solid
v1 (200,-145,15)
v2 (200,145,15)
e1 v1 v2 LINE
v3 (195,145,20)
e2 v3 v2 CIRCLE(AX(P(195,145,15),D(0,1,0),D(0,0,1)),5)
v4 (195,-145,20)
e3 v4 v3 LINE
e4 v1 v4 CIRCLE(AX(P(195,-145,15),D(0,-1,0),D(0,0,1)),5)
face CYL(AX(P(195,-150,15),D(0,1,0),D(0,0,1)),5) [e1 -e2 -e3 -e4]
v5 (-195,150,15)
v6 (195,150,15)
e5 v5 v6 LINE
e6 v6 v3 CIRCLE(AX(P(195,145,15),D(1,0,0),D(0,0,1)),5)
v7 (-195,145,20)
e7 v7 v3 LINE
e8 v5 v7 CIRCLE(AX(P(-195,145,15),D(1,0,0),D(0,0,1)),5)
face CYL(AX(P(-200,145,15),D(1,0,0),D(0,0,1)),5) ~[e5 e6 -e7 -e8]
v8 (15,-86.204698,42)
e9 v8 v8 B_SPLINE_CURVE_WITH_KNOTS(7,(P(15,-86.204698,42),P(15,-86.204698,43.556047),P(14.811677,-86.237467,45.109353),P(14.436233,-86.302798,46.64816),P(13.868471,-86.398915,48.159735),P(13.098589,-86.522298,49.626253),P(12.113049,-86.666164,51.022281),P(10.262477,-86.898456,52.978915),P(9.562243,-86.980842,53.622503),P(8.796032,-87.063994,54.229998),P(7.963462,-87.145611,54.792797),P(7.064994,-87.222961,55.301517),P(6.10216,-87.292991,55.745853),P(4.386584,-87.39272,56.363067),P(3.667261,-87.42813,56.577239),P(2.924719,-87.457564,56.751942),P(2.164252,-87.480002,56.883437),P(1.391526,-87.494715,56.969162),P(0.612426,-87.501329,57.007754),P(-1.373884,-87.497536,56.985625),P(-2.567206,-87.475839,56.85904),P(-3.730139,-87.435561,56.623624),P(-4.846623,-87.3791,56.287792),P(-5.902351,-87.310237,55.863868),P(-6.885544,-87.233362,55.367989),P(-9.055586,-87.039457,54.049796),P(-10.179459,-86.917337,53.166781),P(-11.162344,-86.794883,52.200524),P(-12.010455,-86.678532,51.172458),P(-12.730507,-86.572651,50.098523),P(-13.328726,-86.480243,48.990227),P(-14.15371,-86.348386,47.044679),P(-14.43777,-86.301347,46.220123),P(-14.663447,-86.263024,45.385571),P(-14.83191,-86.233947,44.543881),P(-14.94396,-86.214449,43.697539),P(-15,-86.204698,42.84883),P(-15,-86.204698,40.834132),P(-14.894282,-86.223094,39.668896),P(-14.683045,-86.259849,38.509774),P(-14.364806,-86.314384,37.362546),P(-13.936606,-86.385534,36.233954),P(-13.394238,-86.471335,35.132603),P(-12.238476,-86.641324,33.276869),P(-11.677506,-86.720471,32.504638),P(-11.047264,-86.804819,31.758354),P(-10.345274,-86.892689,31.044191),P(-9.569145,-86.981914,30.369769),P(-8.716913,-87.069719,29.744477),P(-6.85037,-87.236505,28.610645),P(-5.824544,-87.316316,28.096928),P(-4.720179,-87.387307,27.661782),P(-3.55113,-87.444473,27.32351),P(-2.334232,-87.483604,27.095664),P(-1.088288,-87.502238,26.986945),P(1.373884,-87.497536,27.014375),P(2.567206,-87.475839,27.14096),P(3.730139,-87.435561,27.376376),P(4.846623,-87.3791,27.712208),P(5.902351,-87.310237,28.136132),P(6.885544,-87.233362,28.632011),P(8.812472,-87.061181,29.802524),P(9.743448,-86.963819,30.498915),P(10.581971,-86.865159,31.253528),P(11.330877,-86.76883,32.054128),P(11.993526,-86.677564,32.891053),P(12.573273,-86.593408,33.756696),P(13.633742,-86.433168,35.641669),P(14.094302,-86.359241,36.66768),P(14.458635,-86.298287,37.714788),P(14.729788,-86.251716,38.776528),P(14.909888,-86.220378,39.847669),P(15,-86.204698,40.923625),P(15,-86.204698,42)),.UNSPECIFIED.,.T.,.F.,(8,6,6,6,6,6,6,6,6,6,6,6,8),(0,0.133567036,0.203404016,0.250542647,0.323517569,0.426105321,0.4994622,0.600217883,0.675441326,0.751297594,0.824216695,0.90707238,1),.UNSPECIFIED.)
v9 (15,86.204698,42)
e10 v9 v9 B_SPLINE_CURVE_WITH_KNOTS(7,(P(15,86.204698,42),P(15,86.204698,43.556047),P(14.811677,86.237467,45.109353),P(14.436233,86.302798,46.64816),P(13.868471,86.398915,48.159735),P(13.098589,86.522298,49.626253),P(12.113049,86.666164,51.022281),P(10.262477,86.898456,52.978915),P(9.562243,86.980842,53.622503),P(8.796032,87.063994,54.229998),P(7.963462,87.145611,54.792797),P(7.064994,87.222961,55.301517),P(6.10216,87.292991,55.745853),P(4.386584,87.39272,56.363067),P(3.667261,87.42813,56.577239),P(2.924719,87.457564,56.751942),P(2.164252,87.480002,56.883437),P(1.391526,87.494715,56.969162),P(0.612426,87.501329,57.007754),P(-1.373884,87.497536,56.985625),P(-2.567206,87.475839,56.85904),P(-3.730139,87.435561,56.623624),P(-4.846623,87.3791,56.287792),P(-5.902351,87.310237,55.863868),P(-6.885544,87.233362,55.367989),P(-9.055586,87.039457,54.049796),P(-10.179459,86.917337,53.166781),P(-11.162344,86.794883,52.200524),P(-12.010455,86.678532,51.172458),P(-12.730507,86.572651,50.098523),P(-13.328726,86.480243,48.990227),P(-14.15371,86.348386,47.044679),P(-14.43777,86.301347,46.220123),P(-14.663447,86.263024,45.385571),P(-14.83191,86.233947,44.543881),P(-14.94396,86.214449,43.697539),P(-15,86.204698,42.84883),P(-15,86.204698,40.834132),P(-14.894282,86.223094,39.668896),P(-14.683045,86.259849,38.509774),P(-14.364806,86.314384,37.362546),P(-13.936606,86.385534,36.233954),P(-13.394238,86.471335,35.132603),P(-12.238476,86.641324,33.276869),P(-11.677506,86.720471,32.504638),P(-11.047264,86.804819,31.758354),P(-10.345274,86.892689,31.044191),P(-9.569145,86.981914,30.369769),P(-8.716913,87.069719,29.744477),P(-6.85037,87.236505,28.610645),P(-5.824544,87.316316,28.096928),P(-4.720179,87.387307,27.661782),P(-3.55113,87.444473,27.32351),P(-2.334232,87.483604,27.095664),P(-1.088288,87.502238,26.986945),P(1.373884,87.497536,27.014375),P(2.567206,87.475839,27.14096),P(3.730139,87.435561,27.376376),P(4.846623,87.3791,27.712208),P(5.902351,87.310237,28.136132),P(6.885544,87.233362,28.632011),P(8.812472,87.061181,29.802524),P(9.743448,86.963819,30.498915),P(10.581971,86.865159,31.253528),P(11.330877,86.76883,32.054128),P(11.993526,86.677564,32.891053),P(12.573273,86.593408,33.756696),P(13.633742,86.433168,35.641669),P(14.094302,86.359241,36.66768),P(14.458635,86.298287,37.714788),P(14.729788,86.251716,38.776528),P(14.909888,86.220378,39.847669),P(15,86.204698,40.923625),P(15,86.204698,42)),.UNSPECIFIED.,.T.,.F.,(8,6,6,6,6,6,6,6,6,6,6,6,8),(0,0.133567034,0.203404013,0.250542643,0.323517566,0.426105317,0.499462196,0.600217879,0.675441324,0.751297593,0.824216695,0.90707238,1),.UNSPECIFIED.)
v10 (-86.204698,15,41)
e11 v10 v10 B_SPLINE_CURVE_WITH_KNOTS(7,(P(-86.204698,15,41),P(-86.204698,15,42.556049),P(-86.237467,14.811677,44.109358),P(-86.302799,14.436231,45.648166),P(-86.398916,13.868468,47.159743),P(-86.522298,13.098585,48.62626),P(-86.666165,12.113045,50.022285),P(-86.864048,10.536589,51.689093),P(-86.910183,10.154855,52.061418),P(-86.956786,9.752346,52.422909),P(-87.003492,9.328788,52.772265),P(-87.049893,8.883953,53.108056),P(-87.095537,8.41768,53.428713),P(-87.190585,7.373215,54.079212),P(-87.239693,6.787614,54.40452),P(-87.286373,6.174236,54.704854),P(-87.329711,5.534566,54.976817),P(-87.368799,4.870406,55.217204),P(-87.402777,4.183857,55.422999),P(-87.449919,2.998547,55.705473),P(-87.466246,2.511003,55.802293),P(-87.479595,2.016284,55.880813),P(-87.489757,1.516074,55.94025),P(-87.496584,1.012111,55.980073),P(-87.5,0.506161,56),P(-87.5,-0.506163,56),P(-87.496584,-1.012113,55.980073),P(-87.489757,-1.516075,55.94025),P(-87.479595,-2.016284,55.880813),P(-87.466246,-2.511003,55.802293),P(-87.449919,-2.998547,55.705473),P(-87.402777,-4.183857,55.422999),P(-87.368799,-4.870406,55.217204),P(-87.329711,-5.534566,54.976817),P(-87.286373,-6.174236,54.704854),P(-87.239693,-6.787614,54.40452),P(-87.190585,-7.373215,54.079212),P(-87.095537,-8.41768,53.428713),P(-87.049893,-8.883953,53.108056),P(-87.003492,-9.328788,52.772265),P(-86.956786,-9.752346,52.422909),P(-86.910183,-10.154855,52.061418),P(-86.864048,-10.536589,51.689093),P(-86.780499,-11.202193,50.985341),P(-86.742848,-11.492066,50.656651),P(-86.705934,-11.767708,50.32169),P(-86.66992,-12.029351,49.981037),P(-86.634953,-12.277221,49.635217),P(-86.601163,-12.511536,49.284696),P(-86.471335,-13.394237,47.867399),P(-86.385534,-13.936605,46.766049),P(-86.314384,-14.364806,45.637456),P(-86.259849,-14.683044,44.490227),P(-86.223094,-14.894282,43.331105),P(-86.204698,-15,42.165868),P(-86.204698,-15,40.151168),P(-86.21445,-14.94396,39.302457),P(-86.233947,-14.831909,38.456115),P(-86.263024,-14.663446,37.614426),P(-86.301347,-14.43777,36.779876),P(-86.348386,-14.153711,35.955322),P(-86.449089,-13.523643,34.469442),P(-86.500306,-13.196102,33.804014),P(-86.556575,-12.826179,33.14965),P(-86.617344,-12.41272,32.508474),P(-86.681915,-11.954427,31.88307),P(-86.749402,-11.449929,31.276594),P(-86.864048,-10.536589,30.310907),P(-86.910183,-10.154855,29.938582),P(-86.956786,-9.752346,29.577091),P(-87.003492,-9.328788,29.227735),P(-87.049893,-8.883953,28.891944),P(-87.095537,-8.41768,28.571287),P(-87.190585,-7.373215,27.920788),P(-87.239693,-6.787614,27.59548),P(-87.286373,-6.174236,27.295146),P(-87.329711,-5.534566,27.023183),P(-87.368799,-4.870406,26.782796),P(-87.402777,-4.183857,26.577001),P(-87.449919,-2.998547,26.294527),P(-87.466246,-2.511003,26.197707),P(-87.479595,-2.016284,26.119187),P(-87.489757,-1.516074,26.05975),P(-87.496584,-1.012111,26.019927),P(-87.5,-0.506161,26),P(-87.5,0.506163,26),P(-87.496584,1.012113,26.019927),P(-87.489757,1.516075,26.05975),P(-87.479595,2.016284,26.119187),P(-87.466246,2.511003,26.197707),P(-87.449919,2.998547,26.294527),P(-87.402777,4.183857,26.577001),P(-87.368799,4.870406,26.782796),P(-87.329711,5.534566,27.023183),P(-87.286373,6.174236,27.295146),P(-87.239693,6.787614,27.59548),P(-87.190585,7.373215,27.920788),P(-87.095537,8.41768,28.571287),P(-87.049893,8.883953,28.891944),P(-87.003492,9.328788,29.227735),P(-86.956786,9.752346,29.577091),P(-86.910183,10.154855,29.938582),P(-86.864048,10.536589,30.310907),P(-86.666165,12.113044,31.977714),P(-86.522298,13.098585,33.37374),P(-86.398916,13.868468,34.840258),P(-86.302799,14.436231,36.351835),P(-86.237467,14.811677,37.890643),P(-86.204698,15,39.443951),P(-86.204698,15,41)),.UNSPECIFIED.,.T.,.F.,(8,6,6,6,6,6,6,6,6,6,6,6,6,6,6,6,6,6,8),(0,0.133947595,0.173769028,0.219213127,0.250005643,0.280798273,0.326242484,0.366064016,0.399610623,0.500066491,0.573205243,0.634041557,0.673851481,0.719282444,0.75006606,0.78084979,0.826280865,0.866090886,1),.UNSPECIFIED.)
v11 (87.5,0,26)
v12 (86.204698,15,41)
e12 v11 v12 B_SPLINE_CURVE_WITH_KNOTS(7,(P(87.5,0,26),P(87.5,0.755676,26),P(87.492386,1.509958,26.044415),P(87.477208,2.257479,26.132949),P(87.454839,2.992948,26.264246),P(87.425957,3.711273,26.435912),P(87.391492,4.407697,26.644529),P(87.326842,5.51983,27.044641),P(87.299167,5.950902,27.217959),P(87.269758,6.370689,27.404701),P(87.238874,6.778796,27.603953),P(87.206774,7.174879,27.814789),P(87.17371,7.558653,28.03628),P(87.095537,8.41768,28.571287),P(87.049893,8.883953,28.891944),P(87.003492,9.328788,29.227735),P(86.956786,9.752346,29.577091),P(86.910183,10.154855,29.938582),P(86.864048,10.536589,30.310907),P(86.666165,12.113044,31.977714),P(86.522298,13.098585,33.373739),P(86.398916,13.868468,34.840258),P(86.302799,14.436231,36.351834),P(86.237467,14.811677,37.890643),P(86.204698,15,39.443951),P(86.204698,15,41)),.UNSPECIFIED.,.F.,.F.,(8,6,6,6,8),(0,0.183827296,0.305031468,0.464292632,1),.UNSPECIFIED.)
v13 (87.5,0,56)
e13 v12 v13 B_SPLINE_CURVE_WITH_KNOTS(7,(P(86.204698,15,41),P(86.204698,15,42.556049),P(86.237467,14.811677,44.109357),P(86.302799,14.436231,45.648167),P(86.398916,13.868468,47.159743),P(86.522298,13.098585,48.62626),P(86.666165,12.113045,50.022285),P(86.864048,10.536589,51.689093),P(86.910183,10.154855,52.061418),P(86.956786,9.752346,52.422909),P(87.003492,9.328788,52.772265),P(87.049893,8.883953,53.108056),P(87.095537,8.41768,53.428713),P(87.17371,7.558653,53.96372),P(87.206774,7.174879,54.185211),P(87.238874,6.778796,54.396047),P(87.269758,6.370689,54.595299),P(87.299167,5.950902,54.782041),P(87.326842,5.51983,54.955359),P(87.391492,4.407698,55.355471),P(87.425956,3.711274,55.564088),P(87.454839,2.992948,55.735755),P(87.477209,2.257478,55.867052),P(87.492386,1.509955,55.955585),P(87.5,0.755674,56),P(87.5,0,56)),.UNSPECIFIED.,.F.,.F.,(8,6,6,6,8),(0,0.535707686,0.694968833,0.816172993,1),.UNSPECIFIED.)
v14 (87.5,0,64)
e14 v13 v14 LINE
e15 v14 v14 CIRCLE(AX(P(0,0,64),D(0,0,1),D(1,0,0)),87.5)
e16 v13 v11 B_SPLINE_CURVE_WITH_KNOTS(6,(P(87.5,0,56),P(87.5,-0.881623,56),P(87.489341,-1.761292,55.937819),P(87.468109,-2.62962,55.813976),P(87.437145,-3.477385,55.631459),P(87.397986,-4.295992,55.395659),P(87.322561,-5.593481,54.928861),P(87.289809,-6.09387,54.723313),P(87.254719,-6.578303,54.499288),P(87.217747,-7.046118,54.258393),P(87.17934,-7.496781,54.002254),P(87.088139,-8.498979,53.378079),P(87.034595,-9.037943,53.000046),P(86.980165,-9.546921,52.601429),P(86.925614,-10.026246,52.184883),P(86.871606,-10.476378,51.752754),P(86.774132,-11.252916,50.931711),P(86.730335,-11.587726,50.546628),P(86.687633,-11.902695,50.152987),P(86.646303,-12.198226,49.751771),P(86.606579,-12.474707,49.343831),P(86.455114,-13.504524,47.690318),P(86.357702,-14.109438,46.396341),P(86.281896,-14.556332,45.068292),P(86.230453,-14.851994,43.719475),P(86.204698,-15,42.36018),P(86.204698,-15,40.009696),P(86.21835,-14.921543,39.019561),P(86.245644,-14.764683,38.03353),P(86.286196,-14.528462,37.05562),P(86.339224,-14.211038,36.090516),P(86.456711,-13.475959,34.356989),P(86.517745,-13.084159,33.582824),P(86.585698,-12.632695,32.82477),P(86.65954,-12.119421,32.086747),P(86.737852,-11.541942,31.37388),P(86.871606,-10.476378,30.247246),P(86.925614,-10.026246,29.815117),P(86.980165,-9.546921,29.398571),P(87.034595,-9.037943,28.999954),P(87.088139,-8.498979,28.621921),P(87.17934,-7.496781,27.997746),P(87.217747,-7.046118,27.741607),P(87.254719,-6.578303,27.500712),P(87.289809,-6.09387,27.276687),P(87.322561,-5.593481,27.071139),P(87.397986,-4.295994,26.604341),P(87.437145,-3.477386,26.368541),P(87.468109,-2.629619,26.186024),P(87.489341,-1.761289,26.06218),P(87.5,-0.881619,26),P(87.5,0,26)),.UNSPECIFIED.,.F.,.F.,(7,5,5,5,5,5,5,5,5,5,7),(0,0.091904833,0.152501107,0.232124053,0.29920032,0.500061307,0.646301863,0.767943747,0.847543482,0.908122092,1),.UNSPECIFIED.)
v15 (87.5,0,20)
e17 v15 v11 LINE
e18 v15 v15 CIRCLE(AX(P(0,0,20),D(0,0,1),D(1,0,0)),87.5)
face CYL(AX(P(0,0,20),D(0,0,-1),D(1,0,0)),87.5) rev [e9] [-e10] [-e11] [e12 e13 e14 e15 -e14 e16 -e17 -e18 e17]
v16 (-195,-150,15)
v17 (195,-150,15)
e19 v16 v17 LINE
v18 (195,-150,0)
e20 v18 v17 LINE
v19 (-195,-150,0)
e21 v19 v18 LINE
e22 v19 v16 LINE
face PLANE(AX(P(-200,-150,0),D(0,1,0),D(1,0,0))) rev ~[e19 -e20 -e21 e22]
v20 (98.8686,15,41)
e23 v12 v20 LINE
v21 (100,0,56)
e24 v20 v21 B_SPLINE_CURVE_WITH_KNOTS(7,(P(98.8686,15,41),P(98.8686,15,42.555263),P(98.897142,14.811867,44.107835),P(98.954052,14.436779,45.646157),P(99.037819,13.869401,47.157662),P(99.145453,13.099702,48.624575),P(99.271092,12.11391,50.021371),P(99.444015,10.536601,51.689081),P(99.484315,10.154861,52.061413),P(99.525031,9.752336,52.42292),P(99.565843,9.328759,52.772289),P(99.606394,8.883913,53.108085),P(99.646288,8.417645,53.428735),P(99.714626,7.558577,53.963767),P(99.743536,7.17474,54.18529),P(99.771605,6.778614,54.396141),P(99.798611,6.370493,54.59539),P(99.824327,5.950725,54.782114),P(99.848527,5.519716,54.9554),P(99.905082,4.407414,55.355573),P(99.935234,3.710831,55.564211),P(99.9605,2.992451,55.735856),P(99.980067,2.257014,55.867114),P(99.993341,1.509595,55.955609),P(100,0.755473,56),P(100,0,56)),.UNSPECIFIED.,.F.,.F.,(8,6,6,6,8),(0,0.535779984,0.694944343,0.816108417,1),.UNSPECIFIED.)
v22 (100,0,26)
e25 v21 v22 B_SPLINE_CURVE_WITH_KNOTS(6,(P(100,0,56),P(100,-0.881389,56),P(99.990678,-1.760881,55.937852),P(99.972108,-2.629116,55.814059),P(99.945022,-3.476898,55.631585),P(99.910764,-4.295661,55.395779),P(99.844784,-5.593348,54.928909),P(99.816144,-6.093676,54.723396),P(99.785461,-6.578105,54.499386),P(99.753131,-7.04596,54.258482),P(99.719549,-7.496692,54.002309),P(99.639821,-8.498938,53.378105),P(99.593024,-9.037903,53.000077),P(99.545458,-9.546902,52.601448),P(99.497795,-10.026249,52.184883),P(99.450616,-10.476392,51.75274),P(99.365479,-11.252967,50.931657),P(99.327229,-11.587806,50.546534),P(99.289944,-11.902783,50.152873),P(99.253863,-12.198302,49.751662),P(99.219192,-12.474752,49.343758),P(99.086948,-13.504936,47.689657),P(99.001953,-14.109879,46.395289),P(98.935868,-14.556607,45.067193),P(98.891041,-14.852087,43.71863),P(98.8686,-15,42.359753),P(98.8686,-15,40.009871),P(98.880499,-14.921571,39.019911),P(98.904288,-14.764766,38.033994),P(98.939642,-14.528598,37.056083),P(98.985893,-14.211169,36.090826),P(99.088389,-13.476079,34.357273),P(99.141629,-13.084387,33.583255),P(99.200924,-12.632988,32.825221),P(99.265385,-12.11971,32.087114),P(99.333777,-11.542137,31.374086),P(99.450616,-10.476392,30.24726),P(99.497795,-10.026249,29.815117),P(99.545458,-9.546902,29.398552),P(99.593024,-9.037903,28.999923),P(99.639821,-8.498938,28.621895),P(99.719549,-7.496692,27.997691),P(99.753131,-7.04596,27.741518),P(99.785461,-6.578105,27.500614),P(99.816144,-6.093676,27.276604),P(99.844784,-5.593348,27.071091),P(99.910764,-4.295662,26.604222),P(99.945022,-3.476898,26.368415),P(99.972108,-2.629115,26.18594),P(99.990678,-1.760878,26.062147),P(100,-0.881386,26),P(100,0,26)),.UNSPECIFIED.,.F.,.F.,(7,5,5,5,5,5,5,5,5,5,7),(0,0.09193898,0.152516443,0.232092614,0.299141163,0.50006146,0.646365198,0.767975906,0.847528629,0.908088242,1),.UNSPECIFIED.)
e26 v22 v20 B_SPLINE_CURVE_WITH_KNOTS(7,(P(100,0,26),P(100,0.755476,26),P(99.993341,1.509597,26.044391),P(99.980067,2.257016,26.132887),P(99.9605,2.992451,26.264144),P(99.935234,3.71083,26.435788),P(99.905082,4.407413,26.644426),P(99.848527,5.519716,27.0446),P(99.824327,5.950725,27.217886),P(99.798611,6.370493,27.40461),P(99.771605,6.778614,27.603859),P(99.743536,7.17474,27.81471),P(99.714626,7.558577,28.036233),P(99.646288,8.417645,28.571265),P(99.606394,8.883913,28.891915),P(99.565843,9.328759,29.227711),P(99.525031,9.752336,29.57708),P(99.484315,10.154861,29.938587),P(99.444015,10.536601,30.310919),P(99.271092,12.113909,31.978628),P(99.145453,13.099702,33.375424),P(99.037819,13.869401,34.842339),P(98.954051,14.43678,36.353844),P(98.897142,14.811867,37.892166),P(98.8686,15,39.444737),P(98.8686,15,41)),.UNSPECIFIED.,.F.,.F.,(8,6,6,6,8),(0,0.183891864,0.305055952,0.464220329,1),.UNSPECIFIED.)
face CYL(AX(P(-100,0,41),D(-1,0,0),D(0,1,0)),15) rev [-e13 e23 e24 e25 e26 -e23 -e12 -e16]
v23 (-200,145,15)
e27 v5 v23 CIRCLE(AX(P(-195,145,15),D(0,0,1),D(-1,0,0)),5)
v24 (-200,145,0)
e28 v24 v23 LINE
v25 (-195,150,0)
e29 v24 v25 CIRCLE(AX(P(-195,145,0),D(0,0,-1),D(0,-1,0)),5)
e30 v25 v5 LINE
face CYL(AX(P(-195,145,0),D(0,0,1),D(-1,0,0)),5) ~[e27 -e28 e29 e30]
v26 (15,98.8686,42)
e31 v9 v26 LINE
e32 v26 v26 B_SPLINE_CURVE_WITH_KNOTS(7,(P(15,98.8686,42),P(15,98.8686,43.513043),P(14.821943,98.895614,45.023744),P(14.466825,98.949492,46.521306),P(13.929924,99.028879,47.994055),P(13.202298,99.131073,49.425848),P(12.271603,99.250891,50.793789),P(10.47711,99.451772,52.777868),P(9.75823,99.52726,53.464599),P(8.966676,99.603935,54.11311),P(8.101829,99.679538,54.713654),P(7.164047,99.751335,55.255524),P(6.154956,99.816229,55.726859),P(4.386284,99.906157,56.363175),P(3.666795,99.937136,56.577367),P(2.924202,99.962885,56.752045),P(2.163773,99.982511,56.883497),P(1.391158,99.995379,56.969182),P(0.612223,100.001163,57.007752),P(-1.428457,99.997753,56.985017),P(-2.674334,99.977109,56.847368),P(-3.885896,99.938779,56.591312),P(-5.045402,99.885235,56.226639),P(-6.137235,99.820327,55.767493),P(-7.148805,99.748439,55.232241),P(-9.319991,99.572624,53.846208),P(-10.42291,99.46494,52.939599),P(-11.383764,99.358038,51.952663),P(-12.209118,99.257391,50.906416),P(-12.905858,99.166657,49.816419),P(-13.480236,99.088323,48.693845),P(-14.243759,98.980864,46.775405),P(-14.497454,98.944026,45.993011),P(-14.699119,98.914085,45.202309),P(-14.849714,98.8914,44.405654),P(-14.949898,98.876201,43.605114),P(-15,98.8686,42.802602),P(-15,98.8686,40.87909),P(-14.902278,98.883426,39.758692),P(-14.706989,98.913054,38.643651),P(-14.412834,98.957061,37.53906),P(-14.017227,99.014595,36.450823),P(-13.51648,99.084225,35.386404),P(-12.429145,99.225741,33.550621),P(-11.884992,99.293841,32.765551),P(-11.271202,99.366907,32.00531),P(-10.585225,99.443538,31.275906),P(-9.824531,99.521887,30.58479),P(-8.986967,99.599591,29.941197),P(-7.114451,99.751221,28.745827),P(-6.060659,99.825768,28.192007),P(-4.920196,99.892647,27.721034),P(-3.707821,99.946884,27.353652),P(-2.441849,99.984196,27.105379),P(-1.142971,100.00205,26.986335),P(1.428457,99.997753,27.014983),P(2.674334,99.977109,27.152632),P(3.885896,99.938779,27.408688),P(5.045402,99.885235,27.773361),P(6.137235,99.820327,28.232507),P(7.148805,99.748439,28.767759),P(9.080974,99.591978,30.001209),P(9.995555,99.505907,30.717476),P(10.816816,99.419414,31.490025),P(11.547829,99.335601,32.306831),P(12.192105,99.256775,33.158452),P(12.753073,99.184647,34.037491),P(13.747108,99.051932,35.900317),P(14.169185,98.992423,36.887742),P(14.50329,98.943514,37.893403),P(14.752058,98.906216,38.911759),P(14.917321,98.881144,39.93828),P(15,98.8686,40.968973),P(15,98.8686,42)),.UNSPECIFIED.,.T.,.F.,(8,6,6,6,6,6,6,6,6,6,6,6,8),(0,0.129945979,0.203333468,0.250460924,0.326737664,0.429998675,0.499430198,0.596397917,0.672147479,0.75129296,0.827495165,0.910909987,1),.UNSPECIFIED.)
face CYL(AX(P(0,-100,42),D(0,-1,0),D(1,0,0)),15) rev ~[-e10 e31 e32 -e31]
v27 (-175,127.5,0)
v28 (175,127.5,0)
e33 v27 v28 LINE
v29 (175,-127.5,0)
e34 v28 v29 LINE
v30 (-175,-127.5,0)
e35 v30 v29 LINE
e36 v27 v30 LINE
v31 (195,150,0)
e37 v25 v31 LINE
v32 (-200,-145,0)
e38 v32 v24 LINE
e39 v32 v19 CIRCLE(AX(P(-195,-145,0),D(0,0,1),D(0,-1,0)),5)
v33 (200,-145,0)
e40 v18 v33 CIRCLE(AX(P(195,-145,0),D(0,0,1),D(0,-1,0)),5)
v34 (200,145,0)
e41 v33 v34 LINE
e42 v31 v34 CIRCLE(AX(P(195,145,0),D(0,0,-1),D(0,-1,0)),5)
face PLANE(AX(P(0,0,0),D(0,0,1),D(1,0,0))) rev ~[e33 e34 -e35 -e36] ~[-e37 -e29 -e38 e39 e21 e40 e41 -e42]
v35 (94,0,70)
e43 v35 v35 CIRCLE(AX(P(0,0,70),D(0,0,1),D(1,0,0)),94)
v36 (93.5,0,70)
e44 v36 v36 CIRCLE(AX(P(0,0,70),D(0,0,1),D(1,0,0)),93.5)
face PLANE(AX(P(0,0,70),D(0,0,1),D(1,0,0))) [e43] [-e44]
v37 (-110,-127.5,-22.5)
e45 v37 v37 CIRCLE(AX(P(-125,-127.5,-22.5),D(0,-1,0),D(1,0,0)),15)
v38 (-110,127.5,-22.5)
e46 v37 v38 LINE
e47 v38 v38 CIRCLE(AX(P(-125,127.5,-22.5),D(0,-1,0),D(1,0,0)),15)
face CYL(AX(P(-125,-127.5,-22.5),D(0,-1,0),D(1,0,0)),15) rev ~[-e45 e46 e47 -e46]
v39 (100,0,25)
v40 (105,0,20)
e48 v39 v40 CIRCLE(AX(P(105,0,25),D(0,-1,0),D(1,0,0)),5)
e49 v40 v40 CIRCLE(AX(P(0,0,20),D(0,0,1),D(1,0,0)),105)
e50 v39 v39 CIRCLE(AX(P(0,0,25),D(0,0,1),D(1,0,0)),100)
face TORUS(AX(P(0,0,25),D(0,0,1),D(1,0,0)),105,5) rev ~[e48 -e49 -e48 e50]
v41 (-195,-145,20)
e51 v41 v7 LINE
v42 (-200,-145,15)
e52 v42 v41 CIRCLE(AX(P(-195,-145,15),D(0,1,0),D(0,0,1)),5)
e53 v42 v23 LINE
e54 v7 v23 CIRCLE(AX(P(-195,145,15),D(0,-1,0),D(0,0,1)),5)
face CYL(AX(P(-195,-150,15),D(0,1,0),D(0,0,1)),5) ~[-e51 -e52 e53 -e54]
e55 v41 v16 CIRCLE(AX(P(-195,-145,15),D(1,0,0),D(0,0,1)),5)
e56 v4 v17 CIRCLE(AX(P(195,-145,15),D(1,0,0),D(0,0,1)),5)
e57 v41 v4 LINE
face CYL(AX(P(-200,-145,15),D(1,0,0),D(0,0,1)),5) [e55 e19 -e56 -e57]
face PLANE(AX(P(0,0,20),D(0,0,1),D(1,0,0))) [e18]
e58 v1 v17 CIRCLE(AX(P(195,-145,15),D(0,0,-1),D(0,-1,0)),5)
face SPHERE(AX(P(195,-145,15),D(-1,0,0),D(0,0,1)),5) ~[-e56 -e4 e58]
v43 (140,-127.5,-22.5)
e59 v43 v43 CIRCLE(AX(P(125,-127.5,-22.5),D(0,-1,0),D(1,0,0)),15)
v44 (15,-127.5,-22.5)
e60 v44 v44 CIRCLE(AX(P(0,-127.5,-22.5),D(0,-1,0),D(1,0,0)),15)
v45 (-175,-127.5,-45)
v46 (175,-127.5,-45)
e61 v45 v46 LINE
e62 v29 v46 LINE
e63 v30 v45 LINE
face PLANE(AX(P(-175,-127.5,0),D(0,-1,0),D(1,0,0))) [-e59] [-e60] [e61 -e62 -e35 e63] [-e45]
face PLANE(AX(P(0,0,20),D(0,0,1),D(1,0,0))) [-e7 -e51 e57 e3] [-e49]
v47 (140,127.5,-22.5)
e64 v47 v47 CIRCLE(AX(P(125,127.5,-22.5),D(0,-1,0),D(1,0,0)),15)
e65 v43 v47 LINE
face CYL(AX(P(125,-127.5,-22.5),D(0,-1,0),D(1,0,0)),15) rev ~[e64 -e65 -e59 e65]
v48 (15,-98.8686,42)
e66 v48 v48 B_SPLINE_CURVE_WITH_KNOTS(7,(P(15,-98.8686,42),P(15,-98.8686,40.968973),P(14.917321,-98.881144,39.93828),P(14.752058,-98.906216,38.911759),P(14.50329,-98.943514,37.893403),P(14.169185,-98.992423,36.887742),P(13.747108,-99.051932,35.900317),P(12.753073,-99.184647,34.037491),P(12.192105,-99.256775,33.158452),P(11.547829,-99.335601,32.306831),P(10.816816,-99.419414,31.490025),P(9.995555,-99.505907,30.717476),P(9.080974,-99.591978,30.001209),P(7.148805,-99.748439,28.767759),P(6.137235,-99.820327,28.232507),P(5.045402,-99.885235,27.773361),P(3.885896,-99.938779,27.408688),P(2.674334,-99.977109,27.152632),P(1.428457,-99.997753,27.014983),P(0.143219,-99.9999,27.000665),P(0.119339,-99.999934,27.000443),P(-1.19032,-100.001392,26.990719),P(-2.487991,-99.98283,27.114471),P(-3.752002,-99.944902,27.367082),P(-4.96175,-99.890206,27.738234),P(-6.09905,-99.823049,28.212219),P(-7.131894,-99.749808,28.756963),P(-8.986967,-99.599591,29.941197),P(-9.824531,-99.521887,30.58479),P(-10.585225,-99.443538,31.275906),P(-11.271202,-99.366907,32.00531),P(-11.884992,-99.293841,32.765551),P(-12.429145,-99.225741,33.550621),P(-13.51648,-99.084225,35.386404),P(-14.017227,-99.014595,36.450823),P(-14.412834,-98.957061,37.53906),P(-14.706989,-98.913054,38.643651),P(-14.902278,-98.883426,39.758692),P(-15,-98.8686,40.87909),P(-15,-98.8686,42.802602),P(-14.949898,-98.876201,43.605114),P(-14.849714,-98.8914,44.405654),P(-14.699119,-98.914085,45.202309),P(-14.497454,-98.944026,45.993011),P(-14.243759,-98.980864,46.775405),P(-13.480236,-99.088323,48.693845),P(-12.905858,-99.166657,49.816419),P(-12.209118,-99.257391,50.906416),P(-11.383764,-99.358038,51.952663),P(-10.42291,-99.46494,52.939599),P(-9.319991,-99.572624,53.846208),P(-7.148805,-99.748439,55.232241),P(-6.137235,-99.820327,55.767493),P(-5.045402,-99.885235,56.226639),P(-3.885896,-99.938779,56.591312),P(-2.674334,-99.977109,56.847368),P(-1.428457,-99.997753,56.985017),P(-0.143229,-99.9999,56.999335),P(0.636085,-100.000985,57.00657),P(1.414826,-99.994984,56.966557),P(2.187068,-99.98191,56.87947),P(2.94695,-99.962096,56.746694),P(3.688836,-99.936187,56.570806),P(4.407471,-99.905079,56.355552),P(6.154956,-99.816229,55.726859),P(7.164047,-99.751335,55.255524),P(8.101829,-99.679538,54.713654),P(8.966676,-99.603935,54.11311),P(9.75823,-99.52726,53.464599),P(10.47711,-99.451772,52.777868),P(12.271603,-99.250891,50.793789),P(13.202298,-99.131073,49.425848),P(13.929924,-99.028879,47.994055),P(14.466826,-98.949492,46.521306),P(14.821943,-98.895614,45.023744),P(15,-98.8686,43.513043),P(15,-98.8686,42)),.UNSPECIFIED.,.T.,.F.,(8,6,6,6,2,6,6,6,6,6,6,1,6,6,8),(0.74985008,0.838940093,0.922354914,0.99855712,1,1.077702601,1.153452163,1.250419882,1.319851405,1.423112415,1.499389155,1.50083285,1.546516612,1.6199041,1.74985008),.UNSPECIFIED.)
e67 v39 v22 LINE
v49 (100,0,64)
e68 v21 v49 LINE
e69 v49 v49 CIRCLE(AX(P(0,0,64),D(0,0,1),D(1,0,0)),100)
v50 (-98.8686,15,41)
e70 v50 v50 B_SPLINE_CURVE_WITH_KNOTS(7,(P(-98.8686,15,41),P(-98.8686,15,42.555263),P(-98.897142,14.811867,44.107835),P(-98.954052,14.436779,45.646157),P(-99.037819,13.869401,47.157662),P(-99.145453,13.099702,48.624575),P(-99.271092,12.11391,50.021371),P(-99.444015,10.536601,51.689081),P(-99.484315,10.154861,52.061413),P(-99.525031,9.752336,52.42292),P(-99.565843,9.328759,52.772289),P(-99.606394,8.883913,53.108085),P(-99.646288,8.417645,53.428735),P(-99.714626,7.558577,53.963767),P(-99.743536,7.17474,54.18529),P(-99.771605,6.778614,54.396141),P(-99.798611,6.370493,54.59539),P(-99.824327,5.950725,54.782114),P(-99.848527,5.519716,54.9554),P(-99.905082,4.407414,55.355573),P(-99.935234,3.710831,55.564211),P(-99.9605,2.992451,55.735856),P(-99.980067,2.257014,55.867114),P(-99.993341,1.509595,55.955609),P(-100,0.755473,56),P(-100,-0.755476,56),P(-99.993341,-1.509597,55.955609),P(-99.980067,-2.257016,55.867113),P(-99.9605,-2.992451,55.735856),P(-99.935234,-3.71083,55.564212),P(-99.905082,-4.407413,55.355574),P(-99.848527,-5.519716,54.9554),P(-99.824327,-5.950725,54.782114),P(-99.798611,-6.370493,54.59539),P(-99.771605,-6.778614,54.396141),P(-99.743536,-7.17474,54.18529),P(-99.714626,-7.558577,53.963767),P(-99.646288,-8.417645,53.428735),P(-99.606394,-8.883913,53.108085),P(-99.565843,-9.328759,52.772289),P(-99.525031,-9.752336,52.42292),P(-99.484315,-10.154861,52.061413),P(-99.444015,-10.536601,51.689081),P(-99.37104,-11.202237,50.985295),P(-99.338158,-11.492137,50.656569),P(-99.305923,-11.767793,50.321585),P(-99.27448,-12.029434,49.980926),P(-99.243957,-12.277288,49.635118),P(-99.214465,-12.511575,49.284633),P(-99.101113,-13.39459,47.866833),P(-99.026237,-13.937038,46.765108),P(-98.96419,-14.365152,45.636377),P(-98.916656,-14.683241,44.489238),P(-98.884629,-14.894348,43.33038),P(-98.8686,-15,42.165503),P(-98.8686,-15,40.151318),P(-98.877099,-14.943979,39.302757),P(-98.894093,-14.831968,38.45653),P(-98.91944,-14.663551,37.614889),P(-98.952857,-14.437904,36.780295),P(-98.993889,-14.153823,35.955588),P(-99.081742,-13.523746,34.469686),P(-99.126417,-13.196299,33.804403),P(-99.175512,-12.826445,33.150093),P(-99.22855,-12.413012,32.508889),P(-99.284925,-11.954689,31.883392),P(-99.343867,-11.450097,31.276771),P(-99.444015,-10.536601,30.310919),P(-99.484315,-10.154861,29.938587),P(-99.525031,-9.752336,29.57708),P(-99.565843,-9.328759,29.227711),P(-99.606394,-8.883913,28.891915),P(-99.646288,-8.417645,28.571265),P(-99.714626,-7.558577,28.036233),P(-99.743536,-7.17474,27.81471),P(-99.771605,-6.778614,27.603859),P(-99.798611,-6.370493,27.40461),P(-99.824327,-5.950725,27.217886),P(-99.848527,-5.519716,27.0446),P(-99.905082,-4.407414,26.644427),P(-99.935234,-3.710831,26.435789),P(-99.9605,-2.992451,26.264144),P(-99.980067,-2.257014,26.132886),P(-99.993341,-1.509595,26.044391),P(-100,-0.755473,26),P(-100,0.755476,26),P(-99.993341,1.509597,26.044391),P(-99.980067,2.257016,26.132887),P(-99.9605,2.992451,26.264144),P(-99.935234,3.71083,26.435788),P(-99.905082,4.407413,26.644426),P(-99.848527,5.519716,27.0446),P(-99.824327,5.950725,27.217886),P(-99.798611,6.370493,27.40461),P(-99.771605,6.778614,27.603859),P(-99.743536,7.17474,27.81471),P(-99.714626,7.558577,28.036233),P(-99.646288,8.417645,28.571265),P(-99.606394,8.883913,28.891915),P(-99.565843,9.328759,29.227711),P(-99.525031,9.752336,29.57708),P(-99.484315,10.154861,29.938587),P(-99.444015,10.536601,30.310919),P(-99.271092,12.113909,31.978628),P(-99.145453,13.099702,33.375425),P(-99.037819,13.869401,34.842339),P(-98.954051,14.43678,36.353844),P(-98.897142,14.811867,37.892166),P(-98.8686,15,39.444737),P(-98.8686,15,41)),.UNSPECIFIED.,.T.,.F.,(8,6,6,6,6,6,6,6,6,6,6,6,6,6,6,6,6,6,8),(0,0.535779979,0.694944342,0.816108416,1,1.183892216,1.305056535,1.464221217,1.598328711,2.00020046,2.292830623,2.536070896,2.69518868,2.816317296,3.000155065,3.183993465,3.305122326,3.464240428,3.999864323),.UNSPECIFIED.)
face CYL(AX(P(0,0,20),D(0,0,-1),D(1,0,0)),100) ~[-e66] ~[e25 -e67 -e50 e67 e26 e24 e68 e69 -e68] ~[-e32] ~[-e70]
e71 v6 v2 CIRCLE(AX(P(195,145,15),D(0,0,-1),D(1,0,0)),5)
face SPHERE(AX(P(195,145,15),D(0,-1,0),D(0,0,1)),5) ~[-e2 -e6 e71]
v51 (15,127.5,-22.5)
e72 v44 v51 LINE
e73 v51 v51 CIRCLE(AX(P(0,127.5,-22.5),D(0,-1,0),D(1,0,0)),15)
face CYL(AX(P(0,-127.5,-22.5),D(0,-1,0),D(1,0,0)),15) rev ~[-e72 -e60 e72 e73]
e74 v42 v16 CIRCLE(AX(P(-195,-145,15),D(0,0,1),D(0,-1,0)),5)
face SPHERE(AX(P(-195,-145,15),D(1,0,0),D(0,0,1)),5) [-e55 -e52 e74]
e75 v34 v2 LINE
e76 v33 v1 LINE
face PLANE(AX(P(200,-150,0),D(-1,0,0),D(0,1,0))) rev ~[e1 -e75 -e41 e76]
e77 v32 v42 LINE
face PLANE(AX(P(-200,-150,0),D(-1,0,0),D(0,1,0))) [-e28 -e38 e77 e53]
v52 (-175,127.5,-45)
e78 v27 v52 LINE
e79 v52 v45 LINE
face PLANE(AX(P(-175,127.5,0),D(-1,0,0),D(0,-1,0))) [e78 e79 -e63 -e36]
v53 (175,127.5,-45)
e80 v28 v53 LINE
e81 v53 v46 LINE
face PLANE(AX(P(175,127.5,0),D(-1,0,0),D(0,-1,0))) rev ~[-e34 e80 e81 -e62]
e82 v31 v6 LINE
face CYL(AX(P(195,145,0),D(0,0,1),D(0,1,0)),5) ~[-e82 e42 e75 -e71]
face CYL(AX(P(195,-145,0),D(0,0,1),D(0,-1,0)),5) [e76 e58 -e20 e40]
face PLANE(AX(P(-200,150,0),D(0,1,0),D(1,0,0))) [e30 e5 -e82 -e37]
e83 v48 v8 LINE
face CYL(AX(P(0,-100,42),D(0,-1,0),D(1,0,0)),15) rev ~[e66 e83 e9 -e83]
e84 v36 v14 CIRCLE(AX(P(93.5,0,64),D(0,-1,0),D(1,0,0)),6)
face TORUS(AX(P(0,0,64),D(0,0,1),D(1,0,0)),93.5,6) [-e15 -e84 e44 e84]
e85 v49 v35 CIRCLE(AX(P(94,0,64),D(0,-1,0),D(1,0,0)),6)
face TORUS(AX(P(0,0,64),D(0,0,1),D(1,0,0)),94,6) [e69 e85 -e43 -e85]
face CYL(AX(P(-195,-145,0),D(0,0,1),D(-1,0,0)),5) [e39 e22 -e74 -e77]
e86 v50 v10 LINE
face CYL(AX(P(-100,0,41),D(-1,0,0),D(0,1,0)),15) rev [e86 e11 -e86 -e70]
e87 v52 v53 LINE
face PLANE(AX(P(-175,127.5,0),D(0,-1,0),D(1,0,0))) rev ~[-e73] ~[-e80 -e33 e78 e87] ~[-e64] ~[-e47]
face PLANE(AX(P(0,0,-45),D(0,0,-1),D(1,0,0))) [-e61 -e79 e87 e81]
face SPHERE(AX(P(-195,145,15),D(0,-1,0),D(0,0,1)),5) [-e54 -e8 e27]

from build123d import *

# Parameters (mm, degrees)
F0_W      = 400
F0_H      = 300
F1_DEPTH  = 20
F2_R      = 100
F2_R_2    = 87.5
F3_DEPTH  = 50
F4_R      = 6
F6_R      = 15
F7_DEPTH  = 200
F9_R      = 15
F10_DEPTH = 200
F11_W     = 350
F11_H     = 255
F12_DEPTH = 45
F13_R     = 15
F14_DEPTH = 255
F15_DEPTH = 256
F16_R     = 5


with BuildPart() as f1:
    # F0 (on Top) → F1 (new body)
    with BuildSketch(Plane.XY):
        Rectangle(F0_W, F0_H)
    extrude(amount=F1_DEPTH)

    # F2 (on face) → F3 (join)
    with BuildSketch(Plane.XY.offset(20)):
        Circle(F2_R)
        Circle(F2_R_2, mode=Mode.SUBTRACT)
    extrude(amount=F3_DEPTH)

    # F4
    f4_edges = [f1.edges().sort_by_distance(p)[0] for p in [
        (-100, 0, 70),
        (-87.5, 0, 70),
    ]]
    fillet(f4_edges, radius=F4_R)

    # F6 (on offset) → F7 (cut)
    with BuildSketch(Plane.XZ.offset(100)):
        with Locations((0, 42)):
            Circle(F6_R)
    extrude(amount=-F7_DEPTH, mode=Mode.SUBTRACT)

    # F9 (on offset) → F10 (cut)
    with BuildSketch(Plane.YZ.offset(-100)):
        with Locations((0, 41)):
            Circle(F9_R)
    extrude(amount=F10_DEPTH, mode=Mode.SUBTRACT)

    # F11 (on face) → F12 (join)
    with BuildSketch(Plane(origin=(0, 0, 0), x_dir=(1, 0, 0), z_dir=(0, 0, -1))):
        Rectangle(F11_W, F11_H)
    extrude(amount=F12_DEPTH)

    # F13 (on face) → F14 (cut)
    with BuildSketch(Plane.XZ.offset(127.5)):
        with Locations((-125, -22.5)):
            Circle(F13_R)
    extrude(amount=-F14_DEPTH, mode=Mode.SUBTRACT)

    # F13 (on face) → F15 (cut)
    with BuildSketch(Plane.XZ.offset(127.5)):
        with Locations((-125, -22.5)):
            Circle(F13_R)
        with Locations((125, -22.5)):
            Circle(F13_R)
        with Locations((0, -22.5)):
            Circle(F13_R)
    extrude(amount=-F15_DEPTH, mode=Mode.SUBTRACT)

    # F16
    f16_edges = [f1.edges().sort_by_distance(p)[0] for p in [
        (0, -150, 20),
        (-200, 0, 20),
        (200, 0, 20),
        (0, 150, 20),
        (-100, 0, 20),
        (-200, -150, 10),
        (200, -150, 10),
        (200, 150, 10),
        (-200, 150, 10),
    ]]
    fillet(f16_edges, radius=F16_R)


solid = f1.part
